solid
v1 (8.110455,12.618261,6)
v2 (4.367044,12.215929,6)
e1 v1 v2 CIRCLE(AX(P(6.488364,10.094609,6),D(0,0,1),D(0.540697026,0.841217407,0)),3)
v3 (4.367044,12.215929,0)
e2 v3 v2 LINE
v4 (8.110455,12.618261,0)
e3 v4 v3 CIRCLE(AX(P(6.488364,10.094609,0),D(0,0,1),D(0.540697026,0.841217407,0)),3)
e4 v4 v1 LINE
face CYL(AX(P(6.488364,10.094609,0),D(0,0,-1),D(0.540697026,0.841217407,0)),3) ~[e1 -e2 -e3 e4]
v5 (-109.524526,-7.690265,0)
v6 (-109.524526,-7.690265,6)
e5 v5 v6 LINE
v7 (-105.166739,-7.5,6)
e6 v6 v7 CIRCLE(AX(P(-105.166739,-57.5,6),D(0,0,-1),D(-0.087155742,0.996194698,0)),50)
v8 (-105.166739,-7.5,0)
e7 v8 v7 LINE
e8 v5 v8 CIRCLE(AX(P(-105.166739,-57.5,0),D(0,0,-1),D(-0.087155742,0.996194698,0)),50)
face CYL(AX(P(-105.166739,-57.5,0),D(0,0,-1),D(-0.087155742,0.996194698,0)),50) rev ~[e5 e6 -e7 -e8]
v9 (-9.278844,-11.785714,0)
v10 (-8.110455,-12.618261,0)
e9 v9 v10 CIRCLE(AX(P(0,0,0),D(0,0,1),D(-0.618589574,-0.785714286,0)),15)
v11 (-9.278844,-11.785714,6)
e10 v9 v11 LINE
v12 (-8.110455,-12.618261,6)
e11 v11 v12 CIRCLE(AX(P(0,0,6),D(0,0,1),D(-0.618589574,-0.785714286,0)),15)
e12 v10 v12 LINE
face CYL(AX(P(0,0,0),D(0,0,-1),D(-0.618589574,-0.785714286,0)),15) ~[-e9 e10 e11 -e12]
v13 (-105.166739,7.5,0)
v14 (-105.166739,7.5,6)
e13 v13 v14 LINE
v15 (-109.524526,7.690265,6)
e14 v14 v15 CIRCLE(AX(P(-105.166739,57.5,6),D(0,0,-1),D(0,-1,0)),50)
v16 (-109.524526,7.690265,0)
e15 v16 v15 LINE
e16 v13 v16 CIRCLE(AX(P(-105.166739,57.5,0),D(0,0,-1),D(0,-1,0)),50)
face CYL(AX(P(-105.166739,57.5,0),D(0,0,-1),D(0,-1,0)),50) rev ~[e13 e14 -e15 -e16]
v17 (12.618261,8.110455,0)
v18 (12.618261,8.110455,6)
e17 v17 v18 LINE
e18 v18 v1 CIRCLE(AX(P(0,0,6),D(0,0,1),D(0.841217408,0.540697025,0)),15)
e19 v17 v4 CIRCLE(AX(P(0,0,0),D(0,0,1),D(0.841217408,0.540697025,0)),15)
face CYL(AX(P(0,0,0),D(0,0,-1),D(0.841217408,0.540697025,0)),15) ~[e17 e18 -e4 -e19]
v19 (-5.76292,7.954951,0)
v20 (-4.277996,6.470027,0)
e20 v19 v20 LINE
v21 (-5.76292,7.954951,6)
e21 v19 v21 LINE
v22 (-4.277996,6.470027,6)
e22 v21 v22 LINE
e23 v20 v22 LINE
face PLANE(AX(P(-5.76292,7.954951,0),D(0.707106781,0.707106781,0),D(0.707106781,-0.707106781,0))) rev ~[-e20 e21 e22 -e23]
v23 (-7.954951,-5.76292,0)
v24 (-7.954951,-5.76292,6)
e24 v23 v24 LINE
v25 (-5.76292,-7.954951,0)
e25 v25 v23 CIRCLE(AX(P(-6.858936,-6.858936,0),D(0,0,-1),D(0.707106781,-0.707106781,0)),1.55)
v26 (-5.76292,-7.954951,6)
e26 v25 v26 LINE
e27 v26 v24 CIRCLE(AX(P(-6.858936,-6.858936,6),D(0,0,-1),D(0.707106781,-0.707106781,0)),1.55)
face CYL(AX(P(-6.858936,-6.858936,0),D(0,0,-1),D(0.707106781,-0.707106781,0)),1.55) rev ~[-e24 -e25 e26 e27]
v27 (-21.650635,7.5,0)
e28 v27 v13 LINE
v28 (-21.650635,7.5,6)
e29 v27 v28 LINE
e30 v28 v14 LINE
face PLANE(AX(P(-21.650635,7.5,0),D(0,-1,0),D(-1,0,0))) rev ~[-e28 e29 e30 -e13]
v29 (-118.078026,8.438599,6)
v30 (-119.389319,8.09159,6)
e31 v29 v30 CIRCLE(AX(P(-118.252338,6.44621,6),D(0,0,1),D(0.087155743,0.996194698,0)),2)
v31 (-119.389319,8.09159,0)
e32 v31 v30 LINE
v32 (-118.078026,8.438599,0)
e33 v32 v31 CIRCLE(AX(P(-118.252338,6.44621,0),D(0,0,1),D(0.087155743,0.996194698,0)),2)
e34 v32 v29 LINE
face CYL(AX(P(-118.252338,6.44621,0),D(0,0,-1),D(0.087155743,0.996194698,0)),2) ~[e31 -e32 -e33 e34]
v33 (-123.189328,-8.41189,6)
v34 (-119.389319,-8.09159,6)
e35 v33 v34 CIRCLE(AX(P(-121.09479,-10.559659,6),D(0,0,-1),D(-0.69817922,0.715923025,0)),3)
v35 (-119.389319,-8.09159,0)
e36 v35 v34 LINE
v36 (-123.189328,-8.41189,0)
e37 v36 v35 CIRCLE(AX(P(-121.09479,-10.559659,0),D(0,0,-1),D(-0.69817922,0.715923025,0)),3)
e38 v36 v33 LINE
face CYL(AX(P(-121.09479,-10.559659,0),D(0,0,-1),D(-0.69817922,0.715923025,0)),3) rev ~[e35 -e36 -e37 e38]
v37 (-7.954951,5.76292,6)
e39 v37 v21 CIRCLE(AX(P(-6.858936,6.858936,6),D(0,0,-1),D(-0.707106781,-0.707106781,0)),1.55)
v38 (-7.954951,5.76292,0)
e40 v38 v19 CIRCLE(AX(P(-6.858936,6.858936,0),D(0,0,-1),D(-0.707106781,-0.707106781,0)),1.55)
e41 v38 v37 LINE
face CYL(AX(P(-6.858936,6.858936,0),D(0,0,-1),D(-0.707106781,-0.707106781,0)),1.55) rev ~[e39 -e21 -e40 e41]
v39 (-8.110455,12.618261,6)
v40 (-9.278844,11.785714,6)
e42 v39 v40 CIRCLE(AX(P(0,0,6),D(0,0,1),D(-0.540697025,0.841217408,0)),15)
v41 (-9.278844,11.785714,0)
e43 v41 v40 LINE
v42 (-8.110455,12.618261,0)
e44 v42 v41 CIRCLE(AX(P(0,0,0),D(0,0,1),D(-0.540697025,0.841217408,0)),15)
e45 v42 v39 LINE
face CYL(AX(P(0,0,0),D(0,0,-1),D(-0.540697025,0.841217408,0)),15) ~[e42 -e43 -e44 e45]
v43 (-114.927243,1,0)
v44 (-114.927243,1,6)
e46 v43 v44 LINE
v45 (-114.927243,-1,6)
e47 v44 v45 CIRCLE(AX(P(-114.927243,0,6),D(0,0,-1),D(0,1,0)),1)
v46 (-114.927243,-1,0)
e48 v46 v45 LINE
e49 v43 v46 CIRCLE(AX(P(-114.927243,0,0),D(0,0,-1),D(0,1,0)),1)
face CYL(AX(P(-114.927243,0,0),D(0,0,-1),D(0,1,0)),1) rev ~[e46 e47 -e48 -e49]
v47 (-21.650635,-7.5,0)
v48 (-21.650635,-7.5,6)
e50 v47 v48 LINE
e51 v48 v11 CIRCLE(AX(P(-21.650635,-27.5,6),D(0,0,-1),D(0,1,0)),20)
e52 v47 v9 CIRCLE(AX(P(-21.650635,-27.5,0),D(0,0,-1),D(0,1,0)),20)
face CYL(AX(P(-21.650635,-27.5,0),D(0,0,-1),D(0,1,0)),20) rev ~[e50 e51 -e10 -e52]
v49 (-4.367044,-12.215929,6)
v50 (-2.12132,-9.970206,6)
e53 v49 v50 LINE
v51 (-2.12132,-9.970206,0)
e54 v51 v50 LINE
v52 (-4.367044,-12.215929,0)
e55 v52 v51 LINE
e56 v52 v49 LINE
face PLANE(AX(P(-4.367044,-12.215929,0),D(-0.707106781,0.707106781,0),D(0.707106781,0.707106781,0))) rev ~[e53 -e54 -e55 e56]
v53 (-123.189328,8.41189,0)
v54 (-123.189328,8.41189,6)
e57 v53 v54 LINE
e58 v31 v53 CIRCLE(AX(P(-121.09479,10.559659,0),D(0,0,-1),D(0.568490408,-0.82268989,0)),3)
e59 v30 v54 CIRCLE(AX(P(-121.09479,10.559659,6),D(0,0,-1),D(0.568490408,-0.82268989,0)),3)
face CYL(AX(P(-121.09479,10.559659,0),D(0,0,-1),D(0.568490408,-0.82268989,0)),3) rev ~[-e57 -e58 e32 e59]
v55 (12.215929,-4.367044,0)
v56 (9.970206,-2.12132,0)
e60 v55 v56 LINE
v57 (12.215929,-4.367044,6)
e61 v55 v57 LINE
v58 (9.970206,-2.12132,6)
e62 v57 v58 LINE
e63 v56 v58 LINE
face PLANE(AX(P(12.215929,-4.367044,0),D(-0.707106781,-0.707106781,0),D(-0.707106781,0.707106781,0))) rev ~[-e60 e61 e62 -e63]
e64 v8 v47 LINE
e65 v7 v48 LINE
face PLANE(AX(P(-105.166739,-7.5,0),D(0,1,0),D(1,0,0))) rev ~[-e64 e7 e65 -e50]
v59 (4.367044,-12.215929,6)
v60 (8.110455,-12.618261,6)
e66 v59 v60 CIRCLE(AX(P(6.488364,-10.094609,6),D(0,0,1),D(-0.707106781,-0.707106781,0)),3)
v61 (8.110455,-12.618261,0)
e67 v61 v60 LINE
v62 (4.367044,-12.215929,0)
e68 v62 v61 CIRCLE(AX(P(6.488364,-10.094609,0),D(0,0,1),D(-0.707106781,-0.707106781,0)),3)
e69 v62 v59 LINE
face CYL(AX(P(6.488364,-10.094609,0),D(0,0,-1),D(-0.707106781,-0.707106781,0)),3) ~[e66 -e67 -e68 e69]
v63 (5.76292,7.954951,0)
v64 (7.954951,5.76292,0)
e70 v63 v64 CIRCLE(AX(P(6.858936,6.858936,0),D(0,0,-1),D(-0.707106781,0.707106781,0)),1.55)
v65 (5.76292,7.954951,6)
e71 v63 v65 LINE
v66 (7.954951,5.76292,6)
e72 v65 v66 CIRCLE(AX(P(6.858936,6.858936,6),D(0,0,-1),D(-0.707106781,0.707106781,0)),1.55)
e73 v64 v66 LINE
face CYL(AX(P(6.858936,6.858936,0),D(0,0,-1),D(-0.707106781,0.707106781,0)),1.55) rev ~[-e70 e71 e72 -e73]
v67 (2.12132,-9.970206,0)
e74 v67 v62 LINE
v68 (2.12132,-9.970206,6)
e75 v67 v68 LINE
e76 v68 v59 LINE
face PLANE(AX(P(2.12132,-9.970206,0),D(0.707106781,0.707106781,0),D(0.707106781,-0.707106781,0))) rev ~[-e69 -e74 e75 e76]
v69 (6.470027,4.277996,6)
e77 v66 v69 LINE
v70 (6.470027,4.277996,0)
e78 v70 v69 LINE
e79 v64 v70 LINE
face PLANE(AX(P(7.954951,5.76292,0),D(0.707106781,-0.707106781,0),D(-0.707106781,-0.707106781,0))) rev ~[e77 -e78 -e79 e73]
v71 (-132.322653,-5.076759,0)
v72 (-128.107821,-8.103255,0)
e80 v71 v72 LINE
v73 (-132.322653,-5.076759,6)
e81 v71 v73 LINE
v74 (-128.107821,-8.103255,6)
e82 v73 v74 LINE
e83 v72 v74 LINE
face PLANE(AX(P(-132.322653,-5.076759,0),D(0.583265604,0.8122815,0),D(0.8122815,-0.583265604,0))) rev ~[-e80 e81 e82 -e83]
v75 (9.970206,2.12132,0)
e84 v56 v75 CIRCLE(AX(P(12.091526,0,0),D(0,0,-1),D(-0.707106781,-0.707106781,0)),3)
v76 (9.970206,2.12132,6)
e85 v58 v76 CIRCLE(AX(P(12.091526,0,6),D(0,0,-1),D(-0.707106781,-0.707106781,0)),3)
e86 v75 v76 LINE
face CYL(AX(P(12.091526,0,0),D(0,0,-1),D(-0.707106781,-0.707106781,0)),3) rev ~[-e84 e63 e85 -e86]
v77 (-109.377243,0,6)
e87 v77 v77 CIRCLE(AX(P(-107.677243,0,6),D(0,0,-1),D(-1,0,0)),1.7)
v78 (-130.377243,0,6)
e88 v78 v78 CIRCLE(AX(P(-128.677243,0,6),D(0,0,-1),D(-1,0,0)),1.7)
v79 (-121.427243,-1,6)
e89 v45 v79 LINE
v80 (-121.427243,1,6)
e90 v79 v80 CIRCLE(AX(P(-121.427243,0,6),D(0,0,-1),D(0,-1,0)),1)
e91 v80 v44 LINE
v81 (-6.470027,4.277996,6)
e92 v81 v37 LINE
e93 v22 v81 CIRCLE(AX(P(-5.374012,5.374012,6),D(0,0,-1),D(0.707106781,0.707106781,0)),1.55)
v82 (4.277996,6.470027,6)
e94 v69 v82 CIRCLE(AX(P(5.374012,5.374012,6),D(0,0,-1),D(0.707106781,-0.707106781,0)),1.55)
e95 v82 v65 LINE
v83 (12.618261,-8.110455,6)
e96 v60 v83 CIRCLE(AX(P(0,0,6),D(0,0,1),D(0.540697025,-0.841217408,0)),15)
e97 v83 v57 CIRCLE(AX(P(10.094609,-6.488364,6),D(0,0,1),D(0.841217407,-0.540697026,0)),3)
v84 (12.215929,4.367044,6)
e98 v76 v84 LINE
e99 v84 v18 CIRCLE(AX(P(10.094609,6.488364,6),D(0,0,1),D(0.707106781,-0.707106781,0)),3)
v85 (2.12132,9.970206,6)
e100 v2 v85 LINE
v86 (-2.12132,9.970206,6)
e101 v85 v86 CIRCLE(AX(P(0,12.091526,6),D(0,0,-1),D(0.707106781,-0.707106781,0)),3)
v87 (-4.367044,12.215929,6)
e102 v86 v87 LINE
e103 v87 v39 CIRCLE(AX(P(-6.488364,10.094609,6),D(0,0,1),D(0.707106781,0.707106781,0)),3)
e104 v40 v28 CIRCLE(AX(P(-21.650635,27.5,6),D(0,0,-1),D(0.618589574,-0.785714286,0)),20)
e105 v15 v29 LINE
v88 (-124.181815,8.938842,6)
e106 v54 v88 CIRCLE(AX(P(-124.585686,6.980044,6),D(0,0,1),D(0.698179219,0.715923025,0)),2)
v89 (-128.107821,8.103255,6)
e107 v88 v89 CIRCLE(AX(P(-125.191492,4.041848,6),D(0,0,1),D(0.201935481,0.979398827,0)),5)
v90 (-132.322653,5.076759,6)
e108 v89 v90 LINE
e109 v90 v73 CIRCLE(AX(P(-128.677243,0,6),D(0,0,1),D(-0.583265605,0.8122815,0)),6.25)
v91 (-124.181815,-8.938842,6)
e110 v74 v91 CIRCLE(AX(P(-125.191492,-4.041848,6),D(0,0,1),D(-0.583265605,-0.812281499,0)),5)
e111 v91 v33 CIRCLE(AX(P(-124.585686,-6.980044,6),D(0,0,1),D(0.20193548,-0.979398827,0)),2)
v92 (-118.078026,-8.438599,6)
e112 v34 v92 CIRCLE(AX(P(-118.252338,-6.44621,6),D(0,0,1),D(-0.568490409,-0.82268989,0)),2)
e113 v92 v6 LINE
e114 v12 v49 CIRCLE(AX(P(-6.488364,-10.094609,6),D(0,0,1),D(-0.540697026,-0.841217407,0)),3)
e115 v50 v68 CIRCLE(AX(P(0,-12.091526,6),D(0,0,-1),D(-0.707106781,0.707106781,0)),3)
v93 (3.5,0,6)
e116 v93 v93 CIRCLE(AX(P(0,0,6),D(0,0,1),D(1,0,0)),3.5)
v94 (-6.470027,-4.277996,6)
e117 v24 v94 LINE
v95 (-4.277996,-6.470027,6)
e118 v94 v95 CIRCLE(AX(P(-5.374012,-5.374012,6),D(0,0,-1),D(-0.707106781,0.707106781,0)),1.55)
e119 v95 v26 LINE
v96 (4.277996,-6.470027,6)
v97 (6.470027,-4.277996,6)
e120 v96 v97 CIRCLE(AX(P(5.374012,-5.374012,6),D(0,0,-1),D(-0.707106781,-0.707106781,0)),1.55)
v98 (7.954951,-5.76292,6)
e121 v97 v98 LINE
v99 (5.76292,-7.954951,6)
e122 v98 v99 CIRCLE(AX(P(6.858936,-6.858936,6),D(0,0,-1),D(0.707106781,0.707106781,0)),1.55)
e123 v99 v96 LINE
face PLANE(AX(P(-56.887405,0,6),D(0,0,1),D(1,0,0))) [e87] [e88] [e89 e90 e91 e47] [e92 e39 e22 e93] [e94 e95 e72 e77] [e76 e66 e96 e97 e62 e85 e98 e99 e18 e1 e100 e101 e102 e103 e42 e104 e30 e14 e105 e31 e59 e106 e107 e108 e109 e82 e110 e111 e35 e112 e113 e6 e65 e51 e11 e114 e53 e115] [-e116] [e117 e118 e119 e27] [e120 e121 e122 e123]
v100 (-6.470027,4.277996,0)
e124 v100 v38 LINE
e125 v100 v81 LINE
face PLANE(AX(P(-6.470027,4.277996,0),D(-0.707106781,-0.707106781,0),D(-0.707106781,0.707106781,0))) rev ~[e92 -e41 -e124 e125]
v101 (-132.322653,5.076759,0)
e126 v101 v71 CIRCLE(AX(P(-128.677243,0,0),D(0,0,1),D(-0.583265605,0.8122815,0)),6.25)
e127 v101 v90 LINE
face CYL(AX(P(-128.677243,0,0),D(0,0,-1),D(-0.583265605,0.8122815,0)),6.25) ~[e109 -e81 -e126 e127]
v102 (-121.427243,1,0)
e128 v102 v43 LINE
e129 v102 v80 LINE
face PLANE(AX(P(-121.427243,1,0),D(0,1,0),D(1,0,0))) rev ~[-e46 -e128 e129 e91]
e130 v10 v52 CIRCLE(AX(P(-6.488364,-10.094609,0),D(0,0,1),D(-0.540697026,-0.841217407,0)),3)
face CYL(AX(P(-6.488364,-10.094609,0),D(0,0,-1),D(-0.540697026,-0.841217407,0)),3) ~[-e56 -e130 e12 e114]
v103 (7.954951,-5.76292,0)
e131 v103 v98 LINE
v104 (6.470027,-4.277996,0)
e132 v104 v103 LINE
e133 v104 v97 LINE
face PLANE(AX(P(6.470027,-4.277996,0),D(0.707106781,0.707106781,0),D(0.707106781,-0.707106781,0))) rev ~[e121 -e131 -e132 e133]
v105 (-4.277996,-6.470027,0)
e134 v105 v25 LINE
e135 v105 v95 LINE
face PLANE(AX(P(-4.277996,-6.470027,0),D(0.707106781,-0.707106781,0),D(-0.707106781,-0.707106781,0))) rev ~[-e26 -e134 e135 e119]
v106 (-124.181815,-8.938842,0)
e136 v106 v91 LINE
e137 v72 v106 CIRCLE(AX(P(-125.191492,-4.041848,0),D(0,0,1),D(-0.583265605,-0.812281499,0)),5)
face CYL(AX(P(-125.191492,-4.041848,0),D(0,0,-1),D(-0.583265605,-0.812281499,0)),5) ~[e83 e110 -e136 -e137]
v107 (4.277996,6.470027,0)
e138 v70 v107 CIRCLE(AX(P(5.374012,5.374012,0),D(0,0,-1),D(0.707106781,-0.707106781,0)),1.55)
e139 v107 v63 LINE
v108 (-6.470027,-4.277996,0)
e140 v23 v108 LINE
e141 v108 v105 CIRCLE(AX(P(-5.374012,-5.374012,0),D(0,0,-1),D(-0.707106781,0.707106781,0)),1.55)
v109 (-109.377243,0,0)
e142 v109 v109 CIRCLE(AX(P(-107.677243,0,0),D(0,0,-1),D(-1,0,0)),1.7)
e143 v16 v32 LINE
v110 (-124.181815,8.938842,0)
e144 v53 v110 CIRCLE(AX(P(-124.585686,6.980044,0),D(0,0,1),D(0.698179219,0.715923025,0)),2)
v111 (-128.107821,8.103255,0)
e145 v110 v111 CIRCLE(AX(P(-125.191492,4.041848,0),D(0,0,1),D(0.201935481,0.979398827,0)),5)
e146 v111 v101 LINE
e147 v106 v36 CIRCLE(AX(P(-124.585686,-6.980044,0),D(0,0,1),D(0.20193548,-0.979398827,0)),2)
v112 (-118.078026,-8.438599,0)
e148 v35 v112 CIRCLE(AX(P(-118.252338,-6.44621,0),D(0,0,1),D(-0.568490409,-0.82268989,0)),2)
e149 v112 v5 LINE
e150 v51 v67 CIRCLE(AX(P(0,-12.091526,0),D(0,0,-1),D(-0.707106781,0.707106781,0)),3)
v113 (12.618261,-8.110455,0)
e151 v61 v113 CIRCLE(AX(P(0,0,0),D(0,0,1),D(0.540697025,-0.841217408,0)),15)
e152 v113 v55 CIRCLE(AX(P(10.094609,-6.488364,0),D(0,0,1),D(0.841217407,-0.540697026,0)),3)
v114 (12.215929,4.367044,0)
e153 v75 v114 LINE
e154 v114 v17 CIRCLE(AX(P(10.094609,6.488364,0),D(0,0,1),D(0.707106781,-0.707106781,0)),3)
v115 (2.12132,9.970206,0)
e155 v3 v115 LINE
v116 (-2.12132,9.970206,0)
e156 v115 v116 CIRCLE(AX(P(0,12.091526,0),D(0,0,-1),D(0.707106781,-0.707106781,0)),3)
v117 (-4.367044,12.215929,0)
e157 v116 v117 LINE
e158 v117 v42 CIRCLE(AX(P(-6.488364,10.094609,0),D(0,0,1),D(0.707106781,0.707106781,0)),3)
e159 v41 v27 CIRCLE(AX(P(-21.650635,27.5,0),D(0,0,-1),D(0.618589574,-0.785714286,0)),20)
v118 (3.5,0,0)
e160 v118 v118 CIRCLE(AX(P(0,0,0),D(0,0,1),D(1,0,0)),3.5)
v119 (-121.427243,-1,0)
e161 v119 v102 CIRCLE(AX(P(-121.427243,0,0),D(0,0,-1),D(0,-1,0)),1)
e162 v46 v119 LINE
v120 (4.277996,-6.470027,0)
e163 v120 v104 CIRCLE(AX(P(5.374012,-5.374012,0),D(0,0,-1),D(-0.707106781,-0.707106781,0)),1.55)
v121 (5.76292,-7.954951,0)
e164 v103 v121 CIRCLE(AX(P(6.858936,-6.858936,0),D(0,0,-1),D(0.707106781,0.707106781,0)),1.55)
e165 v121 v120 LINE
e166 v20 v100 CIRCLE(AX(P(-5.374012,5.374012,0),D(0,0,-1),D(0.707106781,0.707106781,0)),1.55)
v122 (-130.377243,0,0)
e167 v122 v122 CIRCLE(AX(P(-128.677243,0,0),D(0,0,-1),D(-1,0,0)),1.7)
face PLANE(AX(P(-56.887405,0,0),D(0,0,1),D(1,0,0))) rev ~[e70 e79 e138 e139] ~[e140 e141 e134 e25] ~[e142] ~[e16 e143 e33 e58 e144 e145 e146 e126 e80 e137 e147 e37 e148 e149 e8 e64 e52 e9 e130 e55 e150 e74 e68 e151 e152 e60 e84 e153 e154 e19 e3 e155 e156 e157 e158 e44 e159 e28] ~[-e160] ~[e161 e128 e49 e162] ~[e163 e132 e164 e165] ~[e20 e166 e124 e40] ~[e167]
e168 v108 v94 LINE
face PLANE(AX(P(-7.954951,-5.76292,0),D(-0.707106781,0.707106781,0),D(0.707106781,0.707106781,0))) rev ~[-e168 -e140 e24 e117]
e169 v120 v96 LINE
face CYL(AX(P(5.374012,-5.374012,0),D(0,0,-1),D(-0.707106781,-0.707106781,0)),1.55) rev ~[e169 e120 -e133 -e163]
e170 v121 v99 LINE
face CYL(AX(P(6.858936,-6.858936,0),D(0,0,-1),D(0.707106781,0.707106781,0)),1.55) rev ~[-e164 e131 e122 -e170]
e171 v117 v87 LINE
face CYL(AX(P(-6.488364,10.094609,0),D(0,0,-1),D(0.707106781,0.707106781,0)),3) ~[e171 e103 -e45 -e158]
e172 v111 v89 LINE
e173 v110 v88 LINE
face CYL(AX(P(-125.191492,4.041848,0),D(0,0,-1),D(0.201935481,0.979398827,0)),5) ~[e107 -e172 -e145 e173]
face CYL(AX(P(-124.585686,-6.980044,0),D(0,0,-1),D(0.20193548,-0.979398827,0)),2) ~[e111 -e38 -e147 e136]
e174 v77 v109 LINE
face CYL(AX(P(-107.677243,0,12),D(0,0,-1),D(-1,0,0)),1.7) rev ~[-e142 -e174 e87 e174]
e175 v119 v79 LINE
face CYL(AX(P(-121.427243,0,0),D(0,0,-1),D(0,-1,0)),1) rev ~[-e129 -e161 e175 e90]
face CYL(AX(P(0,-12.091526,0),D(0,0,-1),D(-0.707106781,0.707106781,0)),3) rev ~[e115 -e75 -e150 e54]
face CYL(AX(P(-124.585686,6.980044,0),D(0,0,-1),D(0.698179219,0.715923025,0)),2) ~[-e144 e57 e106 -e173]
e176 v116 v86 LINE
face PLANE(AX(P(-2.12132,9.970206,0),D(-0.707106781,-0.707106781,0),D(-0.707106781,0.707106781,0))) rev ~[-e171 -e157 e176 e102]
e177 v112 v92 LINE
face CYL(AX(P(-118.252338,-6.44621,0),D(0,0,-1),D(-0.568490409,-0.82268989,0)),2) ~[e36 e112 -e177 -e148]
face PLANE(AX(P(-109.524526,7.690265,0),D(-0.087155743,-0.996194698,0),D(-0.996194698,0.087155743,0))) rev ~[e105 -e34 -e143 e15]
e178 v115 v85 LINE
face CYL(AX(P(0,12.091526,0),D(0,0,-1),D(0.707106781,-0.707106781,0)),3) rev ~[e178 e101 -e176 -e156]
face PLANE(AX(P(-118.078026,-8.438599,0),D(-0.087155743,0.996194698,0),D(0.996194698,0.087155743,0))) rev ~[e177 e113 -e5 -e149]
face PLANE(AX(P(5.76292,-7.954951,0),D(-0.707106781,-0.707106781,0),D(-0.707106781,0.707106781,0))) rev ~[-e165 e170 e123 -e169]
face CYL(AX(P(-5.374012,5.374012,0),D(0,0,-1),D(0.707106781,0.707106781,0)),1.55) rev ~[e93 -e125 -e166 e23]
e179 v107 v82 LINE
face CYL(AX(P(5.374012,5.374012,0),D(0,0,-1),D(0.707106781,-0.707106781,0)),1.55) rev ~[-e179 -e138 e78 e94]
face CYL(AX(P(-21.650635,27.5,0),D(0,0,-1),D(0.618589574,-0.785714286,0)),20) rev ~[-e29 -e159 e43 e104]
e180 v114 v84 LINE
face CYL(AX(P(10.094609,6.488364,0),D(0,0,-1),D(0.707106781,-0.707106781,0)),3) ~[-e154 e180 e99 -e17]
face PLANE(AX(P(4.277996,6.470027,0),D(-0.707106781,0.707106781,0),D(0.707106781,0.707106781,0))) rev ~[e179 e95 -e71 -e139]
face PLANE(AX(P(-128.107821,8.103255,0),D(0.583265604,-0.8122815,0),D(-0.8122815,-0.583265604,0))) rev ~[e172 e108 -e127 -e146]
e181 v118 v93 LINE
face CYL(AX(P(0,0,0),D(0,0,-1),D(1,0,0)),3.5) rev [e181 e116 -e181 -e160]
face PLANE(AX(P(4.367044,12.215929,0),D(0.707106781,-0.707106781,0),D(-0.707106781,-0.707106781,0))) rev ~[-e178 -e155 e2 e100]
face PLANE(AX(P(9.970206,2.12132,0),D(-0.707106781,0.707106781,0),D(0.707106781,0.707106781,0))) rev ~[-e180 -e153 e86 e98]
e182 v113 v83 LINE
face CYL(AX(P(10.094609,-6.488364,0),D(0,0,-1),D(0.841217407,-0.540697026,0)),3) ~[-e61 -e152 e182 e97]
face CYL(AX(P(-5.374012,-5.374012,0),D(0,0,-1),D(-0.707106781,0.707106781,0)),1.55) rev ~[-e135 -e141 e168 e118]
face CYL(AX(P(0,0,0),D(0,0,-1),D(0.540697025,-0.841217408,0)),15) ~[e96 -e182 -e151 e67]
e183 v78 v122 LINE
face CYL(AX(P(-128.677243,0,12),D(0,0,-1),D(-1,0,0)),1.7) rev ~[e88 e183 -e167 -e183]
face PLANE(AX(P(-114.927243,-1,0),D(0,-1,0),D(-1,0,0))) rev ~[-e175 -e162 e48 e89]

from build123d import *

# Parameters (mm, degrees)
SKETCH1_R                = 3.5
BOSS_EXTRUDE1_DEPTH      = 6
M3_CLEARANCE_HOLE1_D     = 3.4
M3_CLEARANCE_HOLE1_DEPTH = 6


with BuildPart() as part:
    # Sketch1 → Boss-Extrude1 (new body)
    with BuildSketch(Plane.XY):
        with BuildLine():
            Line((-118.078026422, -8.43859944), (-109.524525727, -7.690265095))
            ThreePointArc((-109.524525727, -7.690265095), (-107.347707958, -7.547588921), (-105.16673859, -7.5))
            Line((-105.16673859, -7.5), (-21.650635095, -7.5))
            ThreePointArc((-21.650635095, -7.5), (-15.104098388, -8.60177635), (-9.278843612, -11.785714286))
            ThreePointArc((-9.278843612, -11.785714286), (-8.704608747, -12.215964414), (-8.110455382, -12.618261112))
            ThreePointArc((-8.110455382, -12.618261112), (-6.167778591, -13.077430507), (-4.367043962, -12.215929233))
            Line((-4.367043962, -12.215929233), (-2.121320344, -9.970205615))
            ThreePointArc((-2.121320344, -9.970205615), (0, -9.091525958), (2.121320344, -9.970205615))
            Line((2.121320344, -9.970205615), (4.367043962, -12.215929233))
            ThreePointArc((4.367043962, -12.215929233), (6.167778591, -13.077430507), (8.110455382, -12.618261112))
            ThreePointArc((8.110455382, -12.618261112), (10.606601718, -10.606601718), (12.618261112, -8.110455382))
            ThreePointArc((12.618261112, -8.110455382), (13.077430507, -6.167778591), (12.215929233, -4.367043962))
            Line((12.215929233, -4.367043962), (9.970205615, -2.121320344))
            ThreePointArc((9.970205615, -2.121320344), (9.091525958, 0), (9.970205615, 2.121320344))
            Line((9.970205615, 2.121320344), (12.215929233, 4.367043962))
            ThreePointArc((12.215929233, 4.367043962), (13.077430507, 6.167778591), (12.618261112, 8.110455382))
            ThreePointArc((12.618261112, 8.110455382), (10.606601718, 10.606601718), (8.110455382, 12.618261112))
            ThreePointArc((8.110455382, 12.618261112), (6.167778591, 13.077430507), (4.367043962, 12.215929233))
            Line((4.367043962, 12.215929233), (2.121320344, 9.970205615))
            ThreePointArc((2.121320344, 9.970205615), (0, 9.091525958), (-2.121320344, 9.970205615))
            Line((-2.121320344, 9.970205615), (-4.367043962, 12.215929233))
            ThreePointArc((-4.367043962, 12.215929233), (-6.167778591, 13.077430507), (-8.110455382, 12.618261112))
            ThreePointArc((-8.110455382, 12.618261112), (-8.704608747, 12.215964414), (-9.278843612, 11.785714286))
            ThreePointArc((-9.278843612, 11.785714286), (-15.104098388, 8.60177635), (-21.650635095, 7.5))
            Line((-21.650635095, 7.5), (-105.16673859, 7.5))
            ThreePointArc((-105.16673859, 7.5), (-107.347707958, 7.547588921), (-109.524525727, 7.690265095))
            Line((-109.524525727, 7.690265095), (-118.078026422, 8.43859944))
            ThreePointArc((-118.078026422, 8.43859944), (-118.763989135, 8.379655937), (-119.389318724, 8.091589824))
            ThreePointArc((-119.389318724, 8.091589824), (-121.346764731, 7.570260106), (-123.189327607, 8.411890421))
            ThreePointArc((-123.189327607, 8.411890421), (-123.647802273, 8.746502417), (-124.181815085, 8.938842024))
            ThreePointArc((-124.181815085, 8.938842024), (-126.232348099, 8.932309996), (-128.107820511, 8.103255389))
            Line((-128.107820511, 8.103255389), (-132.322652835, 5.076759373))
            ThreePointArc((-132.322652835, 5.076759373), (-134.927242807, 0), (-132.322652835, -5.076759373))
            Line((-132.322652835, -5.076759373), (-128.107820511, -8.103255389))
            ThreePointArc((-128.107820511, -8.103255389), (-126.232348099, -8.932309996), (-124.181815085, -8.938842024))
            ThreePointArc((-124.181815085, -8.938842024), (-123.647802273, -8.746502417), (-123.189327607, -8.411890421))
            ThreePointArc((-123.189327607, -8.411890421), (-121.346764731, -7.570260106), (-119.389318724, -8.091589824))
            ThreePointArc((-119.389318724, -8.091589824), (-118.763989135, -8.379655937), (-118.078026422, -8.43859944))
        make_face()
        Circle(SKETCH1_R, mode=Mode.SUBTRACT)
        with BuildLine():
            Line((7.954951288, 5.762920267), (6.470027048, 4.277996026))
            ThreePointArc((6.470027048, 4.277996026), (4.277996026, 4.277996026), (4.277996026, 6.470027048))
            Line((4.277996026, 6.470027048), (5.762920267, 7.954951288))
            ThreePointArc((5.762920267, 7.954951288), (7.954951288, 7.954951288), (7.954951288, 5.762920267))
        make_face(mode=Mode.SUBTRACT)
        with BuildLine():
            Line((-5.762920267, 7.954951288), (-4.277996026, 6.470027048))
            ThreePointArc((-4.277996026, 6.470027048), (-4.277996026, 4.277996026), (-6.470027048, 4.277996026))
            Line((-6.470027048, 4.277996026), (-7.954951288, 5.762920267))
            ThreePointArc((-7.954951288, 5.762920267), (-7.954951288, 7.954951288), (-5.762920267, 7.954951288))
        make_face(mode=Mode.SUBTRACT)
        with BuildLine():
            Line((5.762920267, -7.954951288), (4.277996026, -6.470027048))
            ThreePointArc((4.277996026, -6.470027048), (4.277996026, -4.277996026), (6.470027048, -4.277996026))
            Line((6.470027048, -4.277996026), (7.954951288, -5.762920267))
            ThreePointArc((7.954951288, -5.762920267), (7.954951288, -7.954951288), (5.762920267, -7.954951288))
        make_face(mode=Mode.SUBTRACT)
        with BuildLine():
            Line((-7.954951288, -5.762920267), (-6.470027048, -4.277996026))
            ThreePointArc((-6.470027048, -4.277996026), (-4.277996026, -4.277996026), (-4.277996026, -6.470027048))
            Line((-4.277996026, -6.470027048), (-5.762920267, -7.954951288))
            ThreePointArc((-5.762920267, -7.954951288), (-7.954951288, -7.954951288), (-7.954951288, -5.762920267))
        make_face(mode=Mode.SUBTRACT)
        with BuildLine():
            Line((-121.427242807, 1), (-114.927242807, 1))
            ThreePointArc((-114.927242807, 1), (-113.927242807, 0), (-114.927242807, -1))
            Line((-114.927242807, -1), (-121.427242807, -1))
            ThreePointArc((-121.427242807, -1), (-122.427242807, 0), (-121.427242807, 1))
        make_face(mode=Mode.SUBTRACT)
    extrude(amount=BOSS_EXTRUDE1_DEPTH)

    # M3 Clearance Hole1
    with Locations(Plane.XY.offset(6)):
        with Locations((-107.677242807, 0), (-128.677242807, 0)):
            Hole(M3_CLEARANCE_HOLE1_D / 2, depth=M3_CLEARANCE_HOLE1_DEPTH)


solid = part.part
